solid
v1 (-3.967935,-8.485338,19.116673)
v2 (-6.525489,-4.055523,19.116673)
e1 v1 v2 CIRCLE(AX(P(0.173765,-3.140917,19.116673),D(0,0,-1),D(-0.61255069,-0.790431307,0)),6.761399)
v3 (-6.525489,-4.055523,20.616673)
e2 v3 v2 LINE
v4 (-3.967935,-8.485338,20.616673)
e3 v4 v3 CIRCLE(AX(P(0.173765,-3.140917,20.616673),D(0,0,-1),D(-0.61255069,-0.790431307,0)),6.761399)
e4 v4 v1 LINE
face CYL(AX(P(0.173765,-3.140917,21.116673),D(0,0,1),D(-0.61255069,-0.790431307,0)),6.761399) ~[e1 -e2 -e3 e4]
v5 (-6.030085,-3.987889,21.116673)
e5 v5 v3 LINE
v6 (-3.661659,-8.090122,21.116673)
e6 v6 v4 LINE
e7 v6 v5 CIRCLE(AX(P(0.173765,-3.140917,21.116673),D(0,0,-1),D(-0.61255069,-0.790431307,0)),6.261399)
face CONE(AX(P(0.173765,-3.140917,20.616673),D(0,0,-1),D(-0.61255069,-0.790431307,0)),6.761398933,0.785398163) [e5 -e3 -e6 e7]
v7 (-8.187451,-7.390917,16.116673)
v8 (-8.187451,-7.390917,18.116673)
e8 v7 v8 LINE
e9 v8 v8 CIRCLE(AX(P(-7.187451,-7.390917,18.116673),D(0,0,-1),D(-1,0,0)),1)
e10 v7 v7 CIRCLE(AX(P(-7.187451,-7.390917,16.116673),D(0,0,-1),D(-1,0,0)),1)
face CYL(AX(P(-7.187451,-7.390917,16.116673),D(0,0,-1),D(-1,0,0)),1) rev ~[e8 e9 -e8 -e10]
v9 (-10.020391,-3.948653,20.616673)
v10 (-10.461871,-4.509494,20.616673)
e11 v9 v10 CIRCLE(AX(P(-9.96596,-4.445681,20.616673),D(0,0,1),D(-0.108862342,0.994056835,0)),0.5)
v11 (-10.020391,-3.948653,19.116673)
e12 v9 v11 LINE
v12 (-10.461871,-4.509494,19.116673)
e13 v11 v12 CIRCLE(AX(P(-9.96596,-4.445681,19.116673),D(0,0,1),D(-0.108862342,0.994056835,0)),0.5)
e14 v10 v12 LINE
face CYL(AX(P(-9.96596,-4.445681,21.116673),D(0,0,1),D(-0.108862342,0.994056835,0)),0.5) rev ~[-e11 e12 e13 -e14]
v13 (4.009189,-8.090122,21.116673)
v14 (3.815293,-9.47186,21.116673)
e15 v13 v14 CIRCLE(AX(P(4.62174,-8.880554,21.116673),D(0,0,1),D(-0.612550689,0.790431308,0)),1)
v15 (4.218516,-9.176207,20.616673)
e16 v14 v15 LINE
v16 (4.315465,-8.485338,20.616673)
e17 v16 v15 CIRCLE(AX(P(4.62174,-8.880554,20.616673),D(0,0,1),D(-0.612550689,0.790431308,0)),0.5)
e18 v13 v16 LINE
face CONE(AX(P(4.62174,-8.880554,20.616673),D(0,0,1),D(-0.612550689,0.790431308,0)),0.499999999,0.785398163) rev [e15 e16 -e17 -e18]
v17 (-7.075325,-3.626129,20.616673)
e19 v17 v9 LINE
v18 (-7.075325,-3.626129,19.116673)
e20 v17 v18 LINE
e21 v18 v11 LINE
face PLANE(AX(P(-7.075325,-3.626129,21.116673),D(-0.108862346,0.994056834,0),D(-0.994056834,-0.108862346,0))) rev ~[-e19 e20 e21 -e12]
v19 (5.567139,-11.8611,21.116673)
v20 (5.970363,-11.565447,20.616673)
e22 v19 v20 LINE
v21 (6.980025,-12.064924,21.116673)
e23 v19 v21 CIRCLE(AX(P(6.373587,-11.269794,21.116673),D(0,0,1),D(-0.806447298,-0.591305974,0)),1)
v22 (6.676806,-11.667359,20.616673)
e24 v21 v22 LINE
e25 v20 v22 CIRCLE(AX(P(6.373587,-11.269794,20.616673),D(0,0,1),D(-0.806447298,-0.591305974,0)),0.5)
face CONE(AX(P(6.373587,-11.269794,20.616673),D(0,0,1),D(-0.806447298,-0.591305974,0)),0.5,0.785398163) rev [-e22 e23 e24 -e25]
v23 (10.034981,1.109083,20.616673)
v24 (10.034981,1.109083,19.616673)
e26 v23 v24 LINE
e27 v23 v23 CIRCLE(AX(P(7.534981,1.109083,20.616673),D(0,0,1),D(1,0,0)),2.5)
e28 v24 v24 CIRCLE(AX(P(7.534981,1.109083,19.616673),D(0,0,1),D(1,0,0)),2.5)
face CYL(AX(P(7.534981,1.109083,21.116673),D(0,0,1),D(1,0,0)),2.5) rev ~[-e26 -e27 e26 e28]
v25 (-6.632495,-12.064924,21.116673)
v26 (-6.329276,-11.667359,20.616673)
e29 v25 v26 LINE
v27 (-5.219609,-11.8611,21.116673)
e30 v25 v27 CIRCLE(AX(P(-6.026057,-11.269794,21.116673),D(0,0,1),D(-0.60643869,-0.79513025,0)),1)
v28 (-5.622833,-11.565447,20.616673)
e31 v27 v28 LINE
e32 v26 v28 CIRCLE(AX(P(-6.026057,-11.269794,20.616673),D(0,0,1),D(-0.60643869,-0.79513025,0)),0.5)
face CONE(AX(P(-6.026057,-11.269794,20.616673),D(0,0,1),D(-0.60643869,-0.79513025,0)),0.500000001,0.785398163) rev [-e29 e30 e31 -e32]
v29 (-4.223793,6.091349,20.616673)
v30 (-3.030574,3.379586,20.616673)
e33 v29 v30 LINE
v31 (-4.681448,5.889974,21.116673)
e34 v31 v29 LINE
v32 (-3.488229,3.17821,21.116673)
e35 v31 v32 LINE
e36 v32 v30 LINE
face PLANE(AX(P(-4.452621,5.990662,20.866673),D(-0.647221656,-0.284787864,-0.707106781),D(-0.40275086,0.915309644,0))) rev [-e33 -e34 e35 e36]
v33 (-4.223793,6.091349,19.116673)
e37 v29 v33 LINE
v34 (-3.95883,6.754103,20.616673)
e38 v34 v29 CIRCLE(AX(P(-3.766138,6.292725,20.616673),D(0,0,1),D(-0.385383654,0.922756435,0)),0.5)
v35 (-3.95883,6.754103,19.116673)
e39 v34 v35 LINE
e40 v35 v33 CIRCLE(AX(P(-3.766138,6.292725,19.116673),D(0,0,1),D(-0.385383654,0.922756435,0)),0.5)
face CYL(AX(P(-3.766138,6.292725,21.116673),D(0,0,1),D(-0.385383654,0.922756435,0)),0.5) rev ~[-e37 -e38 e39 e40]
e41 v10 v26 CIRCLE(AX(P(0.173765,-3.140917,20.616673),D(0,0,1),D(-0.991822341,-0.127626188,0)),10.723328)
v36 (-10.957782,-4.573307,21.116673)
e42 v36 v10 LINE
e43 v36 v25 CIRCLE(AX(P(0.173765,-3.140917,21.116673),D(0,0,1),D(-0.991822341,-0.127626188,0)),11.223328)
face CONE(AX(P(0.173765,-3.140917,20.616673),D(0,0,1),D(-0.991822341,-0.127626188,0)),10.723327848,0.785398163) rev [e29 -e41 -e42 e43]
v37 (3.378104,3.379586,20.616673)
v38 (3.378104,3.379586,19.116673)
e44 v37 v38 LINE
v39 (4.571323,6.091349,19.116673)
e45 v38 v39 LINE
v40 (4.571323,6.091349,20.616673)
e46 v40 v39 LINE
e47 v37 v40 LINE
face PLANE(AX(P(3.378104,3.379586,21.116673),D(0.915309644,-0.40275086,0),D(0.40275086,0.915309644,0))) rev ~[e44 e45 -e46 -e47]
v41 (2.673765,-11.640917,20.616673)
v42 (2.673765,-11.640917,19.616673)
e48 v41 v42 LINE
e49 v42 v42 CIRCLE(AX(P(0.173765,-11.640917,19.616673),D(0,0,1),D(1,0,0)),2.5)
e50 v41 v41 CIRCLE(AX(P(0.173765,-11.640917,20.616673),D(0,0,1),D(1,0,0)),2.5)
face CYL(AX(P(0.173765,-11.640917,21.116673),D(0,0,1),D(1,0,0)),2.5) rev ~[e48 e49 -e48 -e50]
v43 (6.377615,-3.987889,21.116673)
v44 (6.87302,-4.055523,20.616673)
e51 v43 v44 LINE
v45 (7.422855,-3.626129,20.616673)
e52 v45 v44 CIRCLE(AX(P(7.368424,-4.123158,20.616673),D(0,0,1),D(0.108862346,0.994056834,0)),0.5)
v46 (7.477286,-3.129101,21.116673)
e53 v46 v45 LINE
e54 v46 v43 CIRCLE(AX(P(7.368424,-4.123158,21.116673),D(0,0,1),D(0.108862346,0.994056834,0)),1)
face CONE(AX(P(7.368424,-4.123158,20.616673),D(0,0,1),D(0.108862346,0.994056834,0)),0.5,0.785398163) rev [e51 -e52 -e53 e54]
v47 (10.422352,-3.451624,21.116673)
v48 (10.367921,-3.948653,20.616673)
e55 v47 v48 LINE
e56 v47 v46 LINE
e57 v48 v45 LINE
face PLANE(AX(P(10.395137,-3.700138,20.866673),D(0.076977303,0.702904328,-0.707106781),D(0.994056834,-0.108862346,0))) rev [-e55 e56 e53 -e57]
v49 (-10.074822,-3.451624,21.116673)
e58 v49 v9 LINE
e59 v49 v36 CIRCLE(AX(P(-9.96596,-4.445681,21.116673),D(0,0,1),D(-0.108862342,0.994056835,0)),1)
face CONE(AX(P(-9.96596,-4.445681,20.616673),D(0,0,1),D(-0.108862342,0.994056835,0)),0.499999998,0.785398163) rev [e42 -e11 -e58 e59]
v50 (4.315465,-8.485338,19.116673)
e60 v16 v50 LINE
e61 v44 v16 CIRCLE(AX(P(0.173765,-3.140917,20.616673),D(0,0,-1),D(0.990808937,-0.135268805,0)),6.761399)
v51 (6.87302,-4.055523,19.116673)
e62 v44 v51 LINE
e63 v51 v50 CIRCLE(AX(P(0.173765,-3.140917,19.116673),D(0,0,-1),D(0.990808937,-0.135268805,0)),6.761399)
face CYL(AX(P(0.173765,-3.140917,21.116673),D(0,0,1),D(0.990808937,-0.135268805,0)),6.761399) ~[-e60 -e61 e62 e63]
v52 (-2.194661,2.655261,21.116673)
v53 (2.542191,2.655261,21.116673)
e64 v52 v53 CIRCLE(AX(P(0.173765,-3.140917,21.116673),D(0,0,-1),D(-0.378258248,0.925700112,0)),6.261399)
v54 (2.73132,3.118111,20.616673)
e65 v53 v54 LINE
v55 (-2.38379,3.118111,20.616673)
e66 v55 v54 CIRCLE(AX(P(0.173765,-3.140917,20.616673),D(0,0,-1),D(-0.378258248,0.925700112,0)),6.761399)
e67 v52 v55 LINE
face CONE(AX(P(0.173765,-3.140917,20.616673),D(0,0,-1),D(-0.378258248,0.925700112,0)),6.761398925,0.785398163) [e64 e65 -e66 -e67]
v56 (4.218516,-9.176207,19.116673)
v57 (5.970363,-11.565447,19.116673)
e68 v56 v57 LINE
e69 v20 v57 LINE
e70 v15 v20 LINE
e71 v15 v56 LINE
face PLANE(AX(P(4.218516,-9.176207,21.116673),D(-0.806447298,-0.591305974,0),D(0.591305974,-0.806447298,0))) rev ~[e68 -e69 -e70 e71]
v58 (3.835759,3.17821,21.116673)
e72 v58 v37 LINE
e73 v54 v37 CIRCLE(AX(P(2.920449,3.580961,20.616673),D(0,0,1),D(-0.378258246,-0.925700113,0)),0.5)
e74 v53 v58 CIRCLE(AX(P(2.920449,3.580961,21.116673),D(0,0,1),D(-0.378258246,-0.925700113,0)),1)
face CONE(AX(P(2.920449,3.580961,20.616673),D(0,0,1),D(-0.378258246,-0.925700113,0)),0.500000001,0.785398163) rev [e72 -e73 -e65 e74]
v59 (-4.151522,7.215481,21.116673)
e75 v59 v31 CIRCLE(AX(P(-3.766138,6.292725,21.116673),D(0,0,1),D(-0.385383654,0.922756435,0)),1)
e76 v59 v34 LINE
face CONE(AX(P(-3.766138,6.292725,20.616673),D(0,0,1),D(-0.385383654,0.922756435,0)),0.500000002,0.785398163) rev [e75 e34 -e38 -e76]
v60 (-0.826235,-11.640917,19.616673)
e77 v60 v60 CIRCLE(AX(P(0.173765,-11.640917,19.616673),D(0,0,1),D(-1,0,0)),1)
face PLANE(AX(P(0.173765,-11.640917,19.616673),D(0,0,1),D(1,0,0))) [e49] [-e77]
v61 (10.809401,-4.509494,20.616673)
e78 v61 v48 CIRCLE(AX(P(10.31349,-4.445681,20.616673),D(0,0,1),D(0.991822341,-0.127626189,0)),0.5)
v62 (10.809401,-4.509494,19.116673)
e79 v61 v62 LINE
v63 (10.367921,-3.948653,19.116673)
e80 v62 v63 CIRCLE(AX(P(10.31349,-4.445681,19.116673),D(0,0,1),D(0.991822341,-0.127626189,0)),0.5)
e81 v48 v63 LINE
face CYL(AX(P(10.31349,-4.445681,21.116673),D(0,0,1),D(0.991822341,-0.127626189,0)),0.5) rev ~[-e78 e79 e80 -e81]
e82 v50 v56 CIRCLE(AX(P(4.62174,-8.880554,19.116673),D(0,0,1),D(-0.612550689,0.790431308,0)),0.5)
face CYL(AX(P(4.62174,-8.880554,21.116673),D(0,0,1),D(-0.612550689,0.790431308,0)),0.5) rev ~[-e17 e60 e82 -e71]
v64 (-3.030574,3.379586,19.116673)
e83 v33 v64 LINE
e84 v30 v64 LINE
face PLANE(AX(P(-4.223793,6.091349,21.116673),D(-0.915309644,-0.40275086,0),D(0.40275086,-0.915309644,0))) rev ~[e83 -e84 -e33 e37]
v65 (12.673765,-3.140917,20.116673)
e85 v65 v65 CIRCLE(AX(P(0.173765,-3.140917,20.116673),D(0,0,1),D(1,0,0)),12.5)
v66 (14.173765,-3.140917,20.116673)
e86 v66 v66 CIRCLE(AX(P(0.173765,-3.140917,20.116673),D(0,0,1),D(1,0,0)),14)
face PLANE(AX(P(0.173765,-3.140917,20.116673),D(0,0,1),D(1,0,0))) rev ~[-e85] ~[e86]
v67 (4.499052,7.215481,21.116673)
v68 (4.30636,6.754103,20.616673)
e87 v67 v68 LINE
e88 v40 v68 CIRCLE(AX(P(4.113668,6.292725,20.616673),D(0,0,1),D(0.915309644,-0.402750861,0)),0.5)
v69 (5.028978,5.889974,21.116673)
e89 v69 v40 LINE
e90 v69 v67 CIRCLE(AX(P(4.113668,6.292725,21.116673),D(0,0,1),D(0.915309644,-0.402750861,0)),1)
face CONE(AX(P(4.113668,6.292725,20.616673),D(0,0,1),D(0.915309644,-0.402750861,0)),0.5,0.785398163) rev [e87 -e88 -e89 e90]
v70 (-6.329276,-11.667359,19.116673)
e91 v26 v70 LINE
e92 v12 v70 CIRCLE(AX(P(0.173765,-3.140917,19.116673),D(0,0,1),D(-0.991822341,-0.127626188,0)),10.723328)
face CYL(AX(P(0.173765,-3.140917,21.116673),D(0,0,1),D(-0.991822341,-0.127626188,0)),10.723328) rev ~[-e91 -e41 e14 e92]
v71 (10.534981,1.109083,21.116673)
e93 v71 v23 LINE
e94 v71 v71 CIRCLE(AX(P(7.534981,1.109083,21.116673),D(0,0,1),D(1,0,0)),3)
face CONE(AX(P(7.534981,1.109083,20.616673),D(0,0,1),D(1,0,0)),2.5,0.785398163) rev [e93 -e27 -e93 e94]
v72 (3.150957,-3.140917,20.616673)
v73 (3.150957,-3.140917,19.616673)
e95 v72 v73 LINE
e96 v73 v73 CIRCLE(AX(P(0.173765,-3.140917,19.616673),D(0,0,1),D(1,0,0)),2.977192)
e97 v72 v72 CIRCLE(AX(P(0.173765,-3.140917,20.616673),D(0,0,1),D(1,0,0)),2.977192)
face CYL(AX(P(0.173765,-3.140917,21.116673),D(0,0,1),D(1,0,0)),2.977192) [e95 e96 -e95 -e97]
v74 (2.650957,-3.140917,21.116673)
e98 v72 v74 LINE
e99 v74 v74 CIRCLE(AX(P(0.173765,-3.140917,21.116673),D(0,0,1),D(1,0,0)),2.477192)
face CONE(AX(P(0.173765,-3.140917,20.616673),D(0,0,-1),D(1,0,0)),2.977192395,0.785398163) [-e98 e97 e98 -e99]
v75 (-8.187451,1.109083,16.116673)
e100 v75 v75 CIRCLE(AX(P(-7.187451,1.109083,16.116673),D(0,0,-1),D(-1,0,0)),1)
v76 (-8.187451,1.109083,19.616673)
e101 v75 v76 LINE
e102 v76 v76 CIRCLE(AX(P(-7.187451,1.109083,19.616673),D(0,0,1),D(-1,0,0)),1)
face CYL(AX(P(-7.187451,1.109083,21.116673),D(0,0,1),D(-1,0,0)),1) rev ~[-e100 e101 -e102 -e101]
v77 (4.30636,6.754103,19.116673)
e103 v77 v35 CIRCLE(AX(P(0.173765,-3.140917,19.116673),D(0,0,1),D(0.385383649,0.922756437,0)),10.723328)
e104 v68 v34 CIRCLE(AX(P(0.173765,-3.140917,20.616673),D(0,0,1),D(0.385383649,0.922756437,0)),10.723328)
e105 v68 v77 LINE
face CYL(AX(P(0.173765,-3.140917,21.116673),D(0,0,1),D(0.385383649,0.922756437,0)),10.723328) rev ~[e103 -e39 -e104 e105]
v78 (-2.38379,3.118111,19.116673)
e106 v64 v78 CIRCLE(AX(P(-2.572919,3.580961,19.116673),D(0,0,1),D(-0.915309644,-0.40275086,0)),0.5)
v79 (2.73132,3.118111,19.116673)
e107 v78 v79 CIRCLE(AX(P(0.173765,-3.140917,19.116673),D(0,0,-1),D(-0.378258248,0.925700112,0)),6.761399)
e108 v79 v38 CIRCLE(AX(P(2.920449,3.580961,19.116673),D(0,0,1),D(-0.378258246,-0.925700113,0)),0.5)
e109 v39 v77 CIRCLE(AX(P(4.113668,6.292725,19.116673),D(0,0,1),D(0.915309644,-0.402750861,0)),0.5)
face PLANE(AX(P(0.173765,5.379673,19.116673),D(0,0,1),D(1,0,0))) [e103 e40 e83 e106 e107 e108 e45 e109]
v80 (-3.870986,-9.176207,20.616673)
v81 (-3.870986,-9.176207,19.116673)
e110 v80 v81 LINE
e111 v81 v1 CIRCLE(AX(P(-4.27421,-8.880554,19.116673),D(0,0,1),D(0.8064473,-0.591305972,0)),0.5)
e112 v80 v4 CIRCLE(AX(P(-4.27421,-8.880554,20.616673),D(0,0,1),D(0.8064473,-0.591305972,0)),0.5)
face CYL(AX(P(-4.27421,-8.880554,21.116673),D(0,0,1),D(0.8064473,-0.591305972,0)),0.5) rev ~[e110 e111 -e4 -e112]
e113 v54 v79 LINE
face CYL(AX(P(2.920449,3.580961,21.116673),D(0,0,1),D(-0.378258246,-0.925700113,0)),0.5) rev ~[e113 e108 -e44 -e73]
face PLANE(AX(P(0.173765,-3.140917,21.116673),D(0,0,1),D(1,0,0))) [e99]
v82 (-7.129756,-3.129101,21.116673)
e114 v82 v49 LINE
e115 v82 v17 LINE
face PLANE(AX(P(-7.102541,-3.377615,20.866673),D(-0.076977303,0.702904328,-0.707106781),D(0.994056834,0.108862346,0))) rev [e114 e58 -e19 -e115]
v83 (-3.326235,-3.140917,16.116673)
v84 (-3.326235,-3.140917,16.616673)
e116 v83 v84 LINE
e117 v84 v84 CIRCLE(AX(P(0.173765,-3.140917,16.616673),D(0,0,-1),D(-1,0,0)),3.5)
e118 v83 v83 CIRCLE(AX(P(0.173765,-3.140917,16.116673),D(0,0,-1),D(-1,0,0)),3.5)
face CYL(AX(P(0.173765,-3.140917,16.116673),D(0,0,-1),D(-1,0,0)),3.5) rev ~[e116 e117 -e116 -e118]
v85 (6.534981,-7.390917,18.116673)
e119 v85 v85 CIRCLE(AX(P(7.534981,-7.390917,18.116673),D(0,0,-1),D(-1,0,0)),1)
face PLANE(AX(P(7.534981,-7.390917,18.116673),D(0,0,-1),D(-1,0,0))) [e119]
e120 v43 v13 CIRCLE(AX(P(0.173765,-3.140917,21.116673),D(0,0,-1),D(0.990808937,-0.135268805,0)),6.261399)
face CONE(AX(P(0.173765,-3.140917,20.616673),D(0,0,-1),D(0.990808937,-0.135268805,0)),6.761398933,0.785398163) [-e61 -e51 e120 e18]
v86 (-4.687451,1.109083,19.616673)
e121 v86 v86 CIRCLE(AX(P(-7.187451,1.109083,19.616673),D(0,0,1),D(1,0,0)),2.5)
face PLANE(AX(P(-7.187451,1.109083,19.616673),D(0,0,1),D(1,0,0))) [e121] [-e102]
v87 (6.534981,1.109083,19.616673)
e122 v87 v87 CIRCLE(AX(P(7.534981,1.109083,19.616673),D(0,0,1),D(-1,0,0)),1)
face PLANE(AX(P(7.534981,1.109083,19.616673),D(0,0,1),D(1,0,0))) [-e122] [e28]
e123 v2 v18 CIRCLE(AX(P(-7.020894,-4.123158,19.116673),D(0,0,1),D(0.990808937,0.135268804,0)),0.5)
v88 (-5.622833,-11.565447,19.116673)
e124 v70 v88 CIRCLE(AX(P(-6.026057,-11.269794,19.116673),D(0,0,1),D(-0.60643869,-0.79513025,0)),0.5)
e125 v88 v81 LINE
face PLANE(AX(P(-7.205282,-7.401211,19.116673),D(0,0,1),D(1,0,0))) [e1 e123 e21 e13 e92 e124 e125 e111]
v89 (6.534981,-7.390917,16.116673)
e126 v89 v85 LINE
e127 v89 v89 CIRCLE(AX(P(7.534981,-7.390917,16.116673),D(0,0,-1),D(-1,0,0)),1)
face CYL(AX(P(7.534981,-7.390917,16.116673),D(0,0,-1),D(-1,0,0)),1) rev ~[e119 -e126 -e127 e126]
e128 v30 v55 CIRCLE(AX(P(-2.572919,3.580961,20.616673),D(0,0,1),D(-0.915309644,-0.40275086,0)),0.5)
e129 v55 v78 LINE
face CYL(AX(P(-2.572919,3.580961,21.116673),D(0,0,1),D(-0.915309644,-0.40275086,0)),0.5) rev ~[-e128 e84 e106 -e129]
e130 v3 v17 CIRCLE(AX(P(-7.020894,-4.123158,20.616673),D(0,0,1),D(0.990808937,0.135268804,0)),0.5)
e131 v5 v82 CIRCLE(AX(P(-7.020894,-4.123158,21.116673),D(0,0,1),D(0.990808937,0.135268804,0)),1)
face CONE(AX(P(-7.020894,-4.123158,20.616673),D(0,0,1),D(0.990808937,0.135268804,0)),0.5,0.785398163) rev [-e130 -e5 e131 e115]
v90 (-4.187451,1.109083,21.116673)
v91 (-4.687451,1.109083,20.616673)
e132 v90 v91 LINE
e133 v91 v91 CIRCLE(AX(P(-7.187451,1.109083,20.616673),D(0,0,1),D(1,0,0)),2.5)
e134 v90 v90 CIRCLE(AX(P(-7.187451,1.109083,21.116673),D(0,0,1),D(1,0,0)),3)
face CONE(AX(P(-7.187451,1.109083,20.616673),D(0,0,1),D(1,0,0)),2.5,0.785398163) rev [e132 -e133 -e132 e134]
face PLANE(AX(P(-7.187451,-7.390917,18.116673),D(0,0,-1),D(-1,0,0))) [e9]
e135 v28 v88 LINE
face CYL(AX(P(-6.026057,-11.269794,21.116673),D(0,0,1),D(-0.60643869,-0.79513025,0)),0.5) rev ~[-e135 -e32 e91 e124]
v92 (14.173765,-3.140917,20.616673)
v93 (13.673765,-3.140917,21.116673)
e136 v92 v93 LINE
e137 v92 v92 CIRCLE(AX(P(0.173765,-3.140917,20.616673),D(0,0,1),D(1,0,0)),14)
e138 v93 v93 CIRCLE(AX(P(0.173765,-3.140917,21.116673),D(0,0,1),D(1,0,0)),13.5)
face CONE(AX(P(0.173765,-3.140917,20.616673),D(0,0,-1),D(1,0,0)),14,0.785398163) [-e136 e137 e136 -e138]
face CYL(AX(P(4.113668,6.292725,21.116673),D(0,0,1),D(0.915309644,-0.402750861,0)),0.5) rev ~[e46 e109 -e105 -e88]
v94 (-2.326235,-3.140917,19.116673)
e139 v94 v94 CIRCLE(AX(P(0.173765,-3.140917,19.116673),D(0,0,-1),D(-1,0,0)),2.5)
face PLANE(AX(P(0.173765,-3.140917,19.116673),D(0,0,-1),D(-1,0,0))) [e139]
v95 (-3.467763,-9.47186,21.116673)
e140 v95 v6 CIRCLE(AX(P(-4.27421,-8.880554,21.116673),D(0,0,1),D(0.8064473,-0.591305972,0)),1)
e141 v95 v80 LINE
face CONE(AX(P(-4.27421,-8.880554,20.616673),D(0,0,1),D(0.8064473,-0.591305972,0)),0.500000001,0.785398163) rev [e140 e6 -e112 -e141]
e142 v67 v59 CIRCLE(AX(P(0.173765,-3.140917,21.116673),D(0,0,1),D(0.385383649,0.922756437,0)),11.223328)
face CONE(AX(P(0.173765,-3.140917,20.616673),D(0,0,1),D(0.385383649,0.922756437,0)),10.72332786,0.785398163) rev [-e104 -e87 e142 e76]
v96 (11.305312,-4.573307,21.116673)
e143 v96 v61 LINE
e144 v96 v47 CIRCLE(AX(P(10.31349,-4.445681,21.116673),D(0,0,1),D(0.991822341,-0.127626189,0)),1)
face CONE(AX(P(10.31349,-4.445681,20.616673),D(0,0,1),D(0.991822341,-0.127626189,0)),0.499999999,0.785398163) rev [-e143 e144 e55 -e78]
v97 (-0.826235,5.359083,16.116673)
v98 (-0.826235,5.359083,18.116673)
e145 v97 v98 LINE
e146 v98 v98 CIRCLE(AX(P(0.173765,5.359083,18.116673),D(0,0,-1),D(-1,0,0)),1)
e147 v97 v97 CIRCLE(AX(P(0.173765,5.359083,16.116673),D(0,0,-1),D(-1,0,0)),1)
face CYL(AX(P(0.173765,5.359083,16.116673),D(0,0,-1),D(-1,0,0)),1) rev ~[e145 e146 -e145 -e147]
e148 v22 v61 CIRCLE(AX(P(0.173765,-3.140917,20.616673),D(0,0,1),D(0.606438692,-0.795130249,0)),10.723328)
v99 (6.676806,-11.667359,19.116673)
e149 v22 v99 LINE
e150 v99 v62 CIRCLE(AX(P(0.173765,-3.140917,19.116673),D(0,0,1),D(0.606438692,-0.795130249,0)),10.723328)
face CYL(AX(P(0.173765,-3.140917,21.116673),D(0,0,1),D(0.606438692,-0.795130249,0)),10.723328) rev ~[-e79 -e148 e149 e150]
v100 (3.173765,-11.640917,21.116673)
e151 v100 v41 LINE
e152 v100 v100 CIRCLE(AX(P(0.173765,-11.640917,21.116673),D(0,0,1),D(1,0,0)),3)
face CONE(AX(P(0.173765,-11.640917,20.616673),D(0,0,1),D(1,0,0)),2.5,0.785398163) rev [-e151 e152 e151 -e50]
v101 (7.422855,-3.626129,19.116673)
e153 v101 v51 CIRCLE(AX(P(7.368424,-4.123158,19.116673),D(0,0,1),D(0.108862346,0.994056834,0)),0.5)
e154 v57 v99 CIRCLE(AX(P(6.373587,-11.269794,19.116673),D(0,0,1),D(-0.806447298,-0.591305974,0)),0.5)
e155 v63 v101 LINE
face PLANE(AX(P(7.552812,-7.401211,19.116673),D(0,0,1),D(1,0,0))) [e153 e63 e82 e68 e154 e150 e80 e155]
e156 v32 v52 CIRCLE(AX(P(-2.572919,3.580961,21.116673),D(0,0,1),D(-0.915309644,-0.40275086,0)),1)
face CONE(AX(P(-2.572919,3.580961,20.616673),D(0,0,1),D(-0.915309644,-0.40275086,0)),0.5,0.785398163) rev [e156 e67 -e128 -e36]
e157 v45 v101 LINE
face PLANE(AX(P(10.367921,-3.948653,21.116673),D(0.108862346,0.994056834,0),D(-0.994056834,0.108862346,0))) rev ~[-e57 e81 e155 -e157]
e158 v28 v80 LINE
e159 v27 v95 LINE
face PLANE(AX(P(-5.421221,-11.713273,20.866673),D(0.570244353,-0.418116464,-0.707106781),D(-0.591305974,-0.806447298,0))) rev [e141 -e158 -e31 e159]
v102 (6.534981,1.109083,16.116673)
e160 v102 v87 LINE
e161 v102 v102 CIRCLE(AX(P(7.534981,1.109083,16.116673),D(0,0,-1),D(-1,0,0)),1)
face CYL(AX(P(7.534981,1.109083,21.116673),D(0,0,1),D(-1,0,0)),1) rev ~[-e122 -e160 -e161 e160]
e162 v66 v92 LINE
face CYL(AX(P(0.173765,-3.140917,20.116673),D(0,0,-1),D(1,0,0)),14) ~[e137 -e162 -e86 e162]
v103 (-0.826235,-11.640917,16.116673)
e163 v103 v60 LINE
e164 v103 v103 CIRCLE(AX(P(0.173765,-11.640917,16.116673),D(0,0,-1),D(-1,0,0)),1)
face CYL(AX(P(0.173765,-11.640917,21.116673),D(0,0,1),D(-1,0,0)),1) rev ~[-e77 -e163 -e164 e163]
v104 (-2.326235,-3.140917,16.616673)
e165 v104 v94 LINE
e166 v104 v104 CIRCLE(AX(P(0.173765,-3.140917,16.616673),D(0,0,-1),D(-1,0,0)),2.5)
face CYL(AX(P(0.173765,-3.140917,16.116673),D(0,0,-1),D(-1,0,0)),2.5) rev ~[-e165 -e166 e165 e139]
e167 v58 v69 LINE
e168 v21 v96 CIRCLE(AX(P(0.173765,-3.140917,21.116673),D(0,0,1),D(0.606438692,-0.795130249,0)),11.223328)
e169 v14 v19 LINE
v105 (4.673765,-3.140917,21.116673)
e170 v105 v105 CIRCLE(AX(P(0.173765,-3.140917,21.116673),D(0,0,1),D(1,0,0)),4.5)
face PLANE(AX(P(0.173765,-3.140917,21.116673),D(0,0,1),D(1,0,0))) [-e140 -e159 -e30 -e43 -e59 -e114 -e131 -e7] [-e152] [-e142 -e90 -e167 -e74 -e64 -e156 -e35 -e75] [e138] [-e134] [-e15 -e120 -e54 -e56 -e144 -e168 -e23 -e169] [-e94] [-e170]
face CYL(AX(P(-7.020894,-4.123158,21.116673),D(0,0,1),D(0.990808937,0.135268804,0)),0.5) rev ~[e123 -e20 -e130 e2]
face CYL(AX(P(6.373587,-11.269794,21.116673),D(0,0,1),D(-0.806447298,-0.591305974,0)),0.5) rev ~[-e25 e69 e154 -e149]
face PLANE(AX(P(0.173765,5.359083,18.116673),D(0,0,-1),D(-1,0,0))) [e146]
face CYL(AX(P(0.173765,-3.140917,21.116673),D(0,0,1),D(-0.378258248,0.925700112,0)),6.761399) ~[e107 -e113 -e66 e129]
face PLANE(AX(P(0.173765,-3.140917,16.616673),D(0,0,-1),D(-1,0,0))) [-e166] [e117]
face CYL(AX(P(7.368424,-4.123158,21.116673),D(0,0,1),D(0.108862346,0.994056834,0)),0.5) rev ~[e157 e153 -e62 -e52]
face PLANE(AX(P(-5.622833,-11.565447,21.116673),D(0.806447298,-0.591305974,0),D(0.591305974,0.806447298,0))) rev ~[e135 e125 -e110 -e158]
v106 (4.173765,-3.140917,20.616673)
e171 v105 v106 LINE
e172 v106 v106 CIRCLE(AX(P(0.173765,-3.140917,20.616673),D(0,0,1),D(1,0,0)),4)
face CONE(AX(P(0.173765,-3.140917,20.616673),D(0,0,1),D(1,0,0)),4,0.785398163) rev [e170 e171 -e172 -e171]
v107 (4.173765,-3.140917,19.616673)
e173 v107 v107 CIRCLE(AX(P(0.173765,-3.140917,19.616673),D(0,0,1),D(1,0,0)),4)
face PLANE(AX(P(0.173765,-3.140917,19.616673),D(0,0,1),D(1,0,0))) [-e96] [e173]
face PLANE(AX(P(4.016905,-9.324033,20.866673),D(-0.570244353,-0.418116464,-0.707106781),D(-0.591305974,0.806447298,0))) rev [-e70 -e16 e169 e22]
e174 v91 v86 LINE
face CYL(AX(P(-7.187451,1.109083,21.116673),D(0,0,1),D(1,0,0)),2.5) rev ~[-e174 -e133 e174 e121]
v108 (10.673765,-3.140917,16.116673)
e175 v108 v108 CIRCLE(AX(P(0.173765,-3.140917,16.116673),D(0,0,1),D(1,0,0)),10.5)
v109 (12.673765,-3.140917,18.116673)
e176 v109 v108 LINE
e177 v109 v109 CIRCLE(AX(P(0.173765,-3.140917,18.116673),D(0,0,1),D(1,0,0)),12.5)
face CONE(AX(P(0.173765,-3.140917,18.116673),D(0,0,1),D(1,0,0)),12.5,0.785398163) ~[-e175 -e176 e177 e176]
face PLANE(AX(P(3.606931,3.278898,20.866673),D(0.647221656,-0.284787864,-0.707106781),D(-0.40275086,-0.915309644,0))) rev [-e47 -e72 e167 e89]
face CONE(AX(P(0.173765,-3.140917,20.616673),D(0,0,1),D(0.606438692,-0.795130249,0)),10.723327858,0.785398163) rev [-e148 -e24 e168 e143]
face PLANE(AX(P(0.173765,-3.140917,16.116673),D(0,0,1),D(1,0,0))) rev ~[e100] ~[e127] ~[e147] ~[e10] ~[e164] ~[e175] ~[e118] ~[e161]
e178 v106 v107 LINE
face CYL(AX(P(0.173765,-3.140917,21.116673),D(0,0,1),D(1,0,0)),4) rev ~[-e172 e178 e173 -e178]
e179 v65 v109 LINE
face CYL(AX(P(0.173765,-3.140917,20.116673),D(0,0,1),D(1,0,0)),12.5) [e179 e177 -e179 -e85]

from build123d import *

# Parameters (mm, degrees)
SKETCH_4_R          = 12.5
EXTRUDE_1_DEPTH     = 4
SKETCH_5_R          = 2.5
CUT_EXTRUDE_1_DEPTH = 3
SKETCH_6_R          = 14
EXTRUDE_2_DEPTH     = 1
SKETCH_7_R          = 1
CUT_EXTRUDE_2_DEPTH = 2
SKETCH_11_R         = 1
CUT_EXTRUDE_5_DEPTH = 23.797075308
SKETCH_13_R         = 4
SKETCH_13_R_2       = 2.977192395
SKETCH_13_R_3       = 2.5
CUT_EXTRUDE_6_DEPTH = 1.5
CUT_EXTRUDE_7_DEPTH = 2
CHAMFER_2_SIZE      = 0.5
CHAMFER_1_SIZE      = 2
SKETCH_16_R         = 3.5
CUT_EXTRUDE_8_DEPTH = 0.5


with BuildPart() as part:
    # 草图4 → 凸台-拉伸1 (new body)
    with BuildSketch(Plane.XY.offset(20.116672725)):
        with Locations((0.173765051, -3.140916746)):
            Circle(SKETCH_4_R)
    extrude(amount=-EXTRUDE_1_DEPTH)

    # 草图5 → 切除-拉伸1 (cut)
    with BuildSketch(Plane(origin=(0, 0, 16.116672725), x_dir=(-1, 0, 0), z_dir=(0, 0, -1))):
        with Locations((-0.173765051, -3.140916746)):
            Circle(SKETCH_5_R)
    extrude(amount=-CUT_EXTRUDE_1_DEPTH, mode=Mode.SUBTRACT)

    # 草图6 → 凸台-拉伸2 (add)
    with BuildSketch(Plane.XY.offset(20.116672725)):
        with Locations((0.173765051, -3.140916746)):
            Circle(SKETCH_6_R)
    extrude(amount=EXTRUDE_2_DEPTH)

    # 草图7 → 切除-拉伸2 (cut)
    with BuildSketch(Plane(origin=(0, 0, 16.116672725), x_dir=(-1, 0, 0), z_dir=(0, 0, -1))):
        with Locations((-0.173765051, 5.359083254)):
            Circle(SKETCH_7_R)
        with Locations((7.187450882, 1.109083254)):
            Circle(SKETCH_7_R)
        with Locations((7.187450882, -7.390916746)):
            Circle(SKETCH_7_R)
        with Locations((-0.173765051, -11.640916746)):
            Circle(SKETCH_7_R)
        with Locations((-7.534980983, -7.390916746)):
            Circle(SKETCH_7_R)
        with Locations((-7.534980983, 1.109083254)):
            Circle(SKETCH_7_R)
    extrude(amount=-CUT_EXTRUDE_2_DEPTH, mode=Mode.SUBTRACT)

    # 草图11 → 切除-拉伸5 (cut, through all)
    with BuildSketch(Plane.XY.offset(21.116672725)):
        with Locations(Location((0.173765051, -11.640916746, 0), (0, 0, 180))):
            Circle(SKETCH_11_R)
        with Locations(Location((-7.187450882, 1.109083254, 0), (0, 0, 180))):
            Circle(SKETCH_11_R)
        with Locations(Location((7.534980983, 1.109083254, 0), (0, 0, 180))):
            Circle(SKETCH_11_R)
    extrude(amount=-CUT_EXTRUDE_5_DEPTH, mode=Mode.SUBTRACT)

    # 草图13 → 切除-拉伸6 (cut)
    # profile 1 of 4: a face of its own
    with BuildSketch(Plane.XY.offset(21.116672725)):
        with Locations((0.173765051, -3.140916746)):
            Circle(SKETCH_13_R)
        with Locations((0.173765051, -3.140916746)):
            Circle(SKETCH_13_R_2, mode=Mode.SUBTRACT)
    # profile 2 of 4: a face of its own
    with BuildSketch(Plane.XY.offset(21.116672725)):
        with Locations((0.173765051, -11.640916746)):
            Circle(SKETCH_13_R_3)
    # profile 3 of 4: a face of its own
    with BuildSketch(Plane.XY.offset(21.116672725)):
        with Locations((-7.187450882, 1.109083254)):
            Circle(SKETCH_13_R_3)
    # profile 4 of 4: a face of its own
    with BuildSketch(Plane.XY.offset(21.116672725)):
        with Locations((7.534980983, 1.109083254)):
            Circle(SKETCH_13_R_3)
    extrude(amount=-CUT_EXTRUDE_6_DEPTH, mode=Mode.SUBTRACT)

    # 草图15 → 切除-拉伸7 (cut)
    with BuildSketch(Plane.XY.offset(21.116672725)):
        with BuildLine():
            Line((-5.622832862, -11.565446955), (-3.870986227, -9.176206785))
            ThreePointArc((-3.870986227, -9.176206785), (-3.779061338, -8.81107053), (-3.967934532, -8.485338144))
            ThreePointArc((-3.967934532, -8.485338144), (-5.681778189, -6.521616212), (-6.52548944, -4.0555231))
            ThreePointArc((-6.52548944, -4.0555231), (-6.713145364, -3.729087923), (-7.075325081, -3.626129085))
            Line((-7.075325081, -3.626129085), (-10.020391082, -3.94865269))
            ThreePointArc((-10.020391082, -3.94865269), (-10.358840265, -4.136415806), (-10.461871079, -4.509494201))
            ThreePointArc((-10.461871079, -4.509494201), (-9.112909279, -8.50258067), (-6.329275857, -11.667359093))
            ThreePointArc((-6.329275857, -11.667359093), (-5.954665083, -11.764670987), (-5.622832862, -11.565446955))
        make_face()
        with BuildLine():
            Line((-4.223793169, 6.091349407), (-3.030573803, 3.379585632))
            ThreePointArc((-3.030573803, 3.379585632), (-2.760318975, 3.117408215), (-2.383789858, 3.118111006))
            ThreePointArc((-2.383789858, 3.118111006), (0.173765051, 3.620482186), (2.731319959, 3.118111006))
            ThreePointArc((2.731319959, 3.118111006), (3.107849076, 3.117408215), (3.378103905, 3.379585632))
            Line((3.378103905, 3.379585632), (4.57132327, 6.091349407))
            ThreePointArc((4.57132327, 6.091349407), (4.577940233, 6.478336555), (4.306360273, 6.754103056))
            ThreePointArc((4.306360273, 6.754103056), (0.173765051, 7.582411102), (-3.958830172, 6.754103056))
            ThreePointArc((-3.958830172, 6.754103056), (-4.230410131, 6.478336555), (-4.223793169, 6.091349407))
        make_face()
        with BuildLine():
            Line((10.367921183, -3.94865269), (7.422855183, -3.626129085))
            ThreePointArc((7.422855183, -3.626129085), (7.060675465, -3.729087923), (6.873019541, -4.0555231))
            ThreePointArc((6.873019541, -4.0555231), (6.02930829, -6.521616212), (4.315464633, -8.485338144))
            ThreePointArc((4.315464633, -8.485338144), (4.126591439, -8.81107053), (4.218516329, -9.176206785))
            Line((4.218516329, -9.176206785), (5.970362964, -11.565446955))
            ThreePointArc((5.970362964, -11.565446955), (6.302195184, -11.764670987), (6.676805959, -11.667359093))
            ThreePointArc((6.676805959, -11.667359093), (9.46043938, -8.50258067), (10.809401181, -4.509494201))
            ThreePointArc((10.809401181, -4.509494201), (10.706370366, -4.136415806), (10.367921183, -3.94865269))
        make_face()
    extrude(amount=-CUT_EXTRUDE_7_DEPTH, mode=Mode.SUBTRACT)

    # 倒角2
    chamfer_2_edges = [part.edges().sort_by_distance(p)[0] for p in [
        (-13.826234949, -3.140916746, 21.116672725),
        (-2.760318975, 3.117408215, 21.116672725),
        (0.173765051, 3.620482186, 21.116672725),
        (3.107849076, 3.117408215, 21.116672725),
        (3.974713587, 4.73546752, 21.116672725),
        (4.577940233, 6.478336555, 21.116672725),
        (0.173765051, 7.582411102, 21.116672725),
        (-4.230410131, 6.478336555, 21.116672725),
        (-3.627183486, 4.73546752, 21.116672725),
        (-3.779061338, -8.81107053, 21.116672725),
        (-5.681778189, -6.521616212, 21.116672725),
        (-6.713145364, -3.729087923, 21.116672725),
        (-8.547858082, -3.787390887, 21.116672725),
        (-10.358840265, -4.136415806, 21.116672725),
        (-9.112909279, -8.50258067, 21.116672725),
        (-5.954665083, -11.764670987, 21.116672725),
        (-4.746909545, -10.37082687, 21.116672725),
        (5.034980983, 1.109083254, 21.116672725),
        (-9.687450882, 1.109083254, 21.116672725),
        (-2.326234949, -11.640916746, 21.116672725),
        (-3.826234949, -3.140916746, 21.116672725),
        (-2.803427344, -3.140916746, 21.116672725),
        (7.060675465, -3.729087923, 21.116672725),
        (6.02930829, -6.521616212, 21.116672725),
        (4.126591439, -8.81107053, 21.116672725),
        (5.094439646, -10.37082687, 21.116672725),
        (6.302195184, -11.764670987, 21.116672725),
        (9.46043938, -8.50258067, 21.116672725),
        (10.706370366, -4.136415806, 21.116672725),
        (8.895388183, -3.787390887, 21.116672725),
    ]]
    chamfer(chamfer_2_edges, length=CHAMFER_2_SIZE)

    # Chamfer 1
    chamfer_1_edges = [part.edges().sort_by_distance(p)[0] for p in [
        (-12.326234949, -3.140916746, 16.116672725),
    ]]
    chamfer(chamfer_1_edges, length=CHAMFER_1_SIZE)

    # 草图16 → 切除-拉伸8 (cut)
    with BuildSketch(Plane(origin=(0, 0, 16.116672725), x_dir=(-1, 0, 0), z_dir=(0, 0, -1))):
        with Locations((-0.173765051, -3.140916746)):
            Circle(SKETCH_16_R)
    extrude(amount=-CUT_EXTRUDE_8_DEPTH, mode=Mode.SUBTRACT)


solid = part.part
